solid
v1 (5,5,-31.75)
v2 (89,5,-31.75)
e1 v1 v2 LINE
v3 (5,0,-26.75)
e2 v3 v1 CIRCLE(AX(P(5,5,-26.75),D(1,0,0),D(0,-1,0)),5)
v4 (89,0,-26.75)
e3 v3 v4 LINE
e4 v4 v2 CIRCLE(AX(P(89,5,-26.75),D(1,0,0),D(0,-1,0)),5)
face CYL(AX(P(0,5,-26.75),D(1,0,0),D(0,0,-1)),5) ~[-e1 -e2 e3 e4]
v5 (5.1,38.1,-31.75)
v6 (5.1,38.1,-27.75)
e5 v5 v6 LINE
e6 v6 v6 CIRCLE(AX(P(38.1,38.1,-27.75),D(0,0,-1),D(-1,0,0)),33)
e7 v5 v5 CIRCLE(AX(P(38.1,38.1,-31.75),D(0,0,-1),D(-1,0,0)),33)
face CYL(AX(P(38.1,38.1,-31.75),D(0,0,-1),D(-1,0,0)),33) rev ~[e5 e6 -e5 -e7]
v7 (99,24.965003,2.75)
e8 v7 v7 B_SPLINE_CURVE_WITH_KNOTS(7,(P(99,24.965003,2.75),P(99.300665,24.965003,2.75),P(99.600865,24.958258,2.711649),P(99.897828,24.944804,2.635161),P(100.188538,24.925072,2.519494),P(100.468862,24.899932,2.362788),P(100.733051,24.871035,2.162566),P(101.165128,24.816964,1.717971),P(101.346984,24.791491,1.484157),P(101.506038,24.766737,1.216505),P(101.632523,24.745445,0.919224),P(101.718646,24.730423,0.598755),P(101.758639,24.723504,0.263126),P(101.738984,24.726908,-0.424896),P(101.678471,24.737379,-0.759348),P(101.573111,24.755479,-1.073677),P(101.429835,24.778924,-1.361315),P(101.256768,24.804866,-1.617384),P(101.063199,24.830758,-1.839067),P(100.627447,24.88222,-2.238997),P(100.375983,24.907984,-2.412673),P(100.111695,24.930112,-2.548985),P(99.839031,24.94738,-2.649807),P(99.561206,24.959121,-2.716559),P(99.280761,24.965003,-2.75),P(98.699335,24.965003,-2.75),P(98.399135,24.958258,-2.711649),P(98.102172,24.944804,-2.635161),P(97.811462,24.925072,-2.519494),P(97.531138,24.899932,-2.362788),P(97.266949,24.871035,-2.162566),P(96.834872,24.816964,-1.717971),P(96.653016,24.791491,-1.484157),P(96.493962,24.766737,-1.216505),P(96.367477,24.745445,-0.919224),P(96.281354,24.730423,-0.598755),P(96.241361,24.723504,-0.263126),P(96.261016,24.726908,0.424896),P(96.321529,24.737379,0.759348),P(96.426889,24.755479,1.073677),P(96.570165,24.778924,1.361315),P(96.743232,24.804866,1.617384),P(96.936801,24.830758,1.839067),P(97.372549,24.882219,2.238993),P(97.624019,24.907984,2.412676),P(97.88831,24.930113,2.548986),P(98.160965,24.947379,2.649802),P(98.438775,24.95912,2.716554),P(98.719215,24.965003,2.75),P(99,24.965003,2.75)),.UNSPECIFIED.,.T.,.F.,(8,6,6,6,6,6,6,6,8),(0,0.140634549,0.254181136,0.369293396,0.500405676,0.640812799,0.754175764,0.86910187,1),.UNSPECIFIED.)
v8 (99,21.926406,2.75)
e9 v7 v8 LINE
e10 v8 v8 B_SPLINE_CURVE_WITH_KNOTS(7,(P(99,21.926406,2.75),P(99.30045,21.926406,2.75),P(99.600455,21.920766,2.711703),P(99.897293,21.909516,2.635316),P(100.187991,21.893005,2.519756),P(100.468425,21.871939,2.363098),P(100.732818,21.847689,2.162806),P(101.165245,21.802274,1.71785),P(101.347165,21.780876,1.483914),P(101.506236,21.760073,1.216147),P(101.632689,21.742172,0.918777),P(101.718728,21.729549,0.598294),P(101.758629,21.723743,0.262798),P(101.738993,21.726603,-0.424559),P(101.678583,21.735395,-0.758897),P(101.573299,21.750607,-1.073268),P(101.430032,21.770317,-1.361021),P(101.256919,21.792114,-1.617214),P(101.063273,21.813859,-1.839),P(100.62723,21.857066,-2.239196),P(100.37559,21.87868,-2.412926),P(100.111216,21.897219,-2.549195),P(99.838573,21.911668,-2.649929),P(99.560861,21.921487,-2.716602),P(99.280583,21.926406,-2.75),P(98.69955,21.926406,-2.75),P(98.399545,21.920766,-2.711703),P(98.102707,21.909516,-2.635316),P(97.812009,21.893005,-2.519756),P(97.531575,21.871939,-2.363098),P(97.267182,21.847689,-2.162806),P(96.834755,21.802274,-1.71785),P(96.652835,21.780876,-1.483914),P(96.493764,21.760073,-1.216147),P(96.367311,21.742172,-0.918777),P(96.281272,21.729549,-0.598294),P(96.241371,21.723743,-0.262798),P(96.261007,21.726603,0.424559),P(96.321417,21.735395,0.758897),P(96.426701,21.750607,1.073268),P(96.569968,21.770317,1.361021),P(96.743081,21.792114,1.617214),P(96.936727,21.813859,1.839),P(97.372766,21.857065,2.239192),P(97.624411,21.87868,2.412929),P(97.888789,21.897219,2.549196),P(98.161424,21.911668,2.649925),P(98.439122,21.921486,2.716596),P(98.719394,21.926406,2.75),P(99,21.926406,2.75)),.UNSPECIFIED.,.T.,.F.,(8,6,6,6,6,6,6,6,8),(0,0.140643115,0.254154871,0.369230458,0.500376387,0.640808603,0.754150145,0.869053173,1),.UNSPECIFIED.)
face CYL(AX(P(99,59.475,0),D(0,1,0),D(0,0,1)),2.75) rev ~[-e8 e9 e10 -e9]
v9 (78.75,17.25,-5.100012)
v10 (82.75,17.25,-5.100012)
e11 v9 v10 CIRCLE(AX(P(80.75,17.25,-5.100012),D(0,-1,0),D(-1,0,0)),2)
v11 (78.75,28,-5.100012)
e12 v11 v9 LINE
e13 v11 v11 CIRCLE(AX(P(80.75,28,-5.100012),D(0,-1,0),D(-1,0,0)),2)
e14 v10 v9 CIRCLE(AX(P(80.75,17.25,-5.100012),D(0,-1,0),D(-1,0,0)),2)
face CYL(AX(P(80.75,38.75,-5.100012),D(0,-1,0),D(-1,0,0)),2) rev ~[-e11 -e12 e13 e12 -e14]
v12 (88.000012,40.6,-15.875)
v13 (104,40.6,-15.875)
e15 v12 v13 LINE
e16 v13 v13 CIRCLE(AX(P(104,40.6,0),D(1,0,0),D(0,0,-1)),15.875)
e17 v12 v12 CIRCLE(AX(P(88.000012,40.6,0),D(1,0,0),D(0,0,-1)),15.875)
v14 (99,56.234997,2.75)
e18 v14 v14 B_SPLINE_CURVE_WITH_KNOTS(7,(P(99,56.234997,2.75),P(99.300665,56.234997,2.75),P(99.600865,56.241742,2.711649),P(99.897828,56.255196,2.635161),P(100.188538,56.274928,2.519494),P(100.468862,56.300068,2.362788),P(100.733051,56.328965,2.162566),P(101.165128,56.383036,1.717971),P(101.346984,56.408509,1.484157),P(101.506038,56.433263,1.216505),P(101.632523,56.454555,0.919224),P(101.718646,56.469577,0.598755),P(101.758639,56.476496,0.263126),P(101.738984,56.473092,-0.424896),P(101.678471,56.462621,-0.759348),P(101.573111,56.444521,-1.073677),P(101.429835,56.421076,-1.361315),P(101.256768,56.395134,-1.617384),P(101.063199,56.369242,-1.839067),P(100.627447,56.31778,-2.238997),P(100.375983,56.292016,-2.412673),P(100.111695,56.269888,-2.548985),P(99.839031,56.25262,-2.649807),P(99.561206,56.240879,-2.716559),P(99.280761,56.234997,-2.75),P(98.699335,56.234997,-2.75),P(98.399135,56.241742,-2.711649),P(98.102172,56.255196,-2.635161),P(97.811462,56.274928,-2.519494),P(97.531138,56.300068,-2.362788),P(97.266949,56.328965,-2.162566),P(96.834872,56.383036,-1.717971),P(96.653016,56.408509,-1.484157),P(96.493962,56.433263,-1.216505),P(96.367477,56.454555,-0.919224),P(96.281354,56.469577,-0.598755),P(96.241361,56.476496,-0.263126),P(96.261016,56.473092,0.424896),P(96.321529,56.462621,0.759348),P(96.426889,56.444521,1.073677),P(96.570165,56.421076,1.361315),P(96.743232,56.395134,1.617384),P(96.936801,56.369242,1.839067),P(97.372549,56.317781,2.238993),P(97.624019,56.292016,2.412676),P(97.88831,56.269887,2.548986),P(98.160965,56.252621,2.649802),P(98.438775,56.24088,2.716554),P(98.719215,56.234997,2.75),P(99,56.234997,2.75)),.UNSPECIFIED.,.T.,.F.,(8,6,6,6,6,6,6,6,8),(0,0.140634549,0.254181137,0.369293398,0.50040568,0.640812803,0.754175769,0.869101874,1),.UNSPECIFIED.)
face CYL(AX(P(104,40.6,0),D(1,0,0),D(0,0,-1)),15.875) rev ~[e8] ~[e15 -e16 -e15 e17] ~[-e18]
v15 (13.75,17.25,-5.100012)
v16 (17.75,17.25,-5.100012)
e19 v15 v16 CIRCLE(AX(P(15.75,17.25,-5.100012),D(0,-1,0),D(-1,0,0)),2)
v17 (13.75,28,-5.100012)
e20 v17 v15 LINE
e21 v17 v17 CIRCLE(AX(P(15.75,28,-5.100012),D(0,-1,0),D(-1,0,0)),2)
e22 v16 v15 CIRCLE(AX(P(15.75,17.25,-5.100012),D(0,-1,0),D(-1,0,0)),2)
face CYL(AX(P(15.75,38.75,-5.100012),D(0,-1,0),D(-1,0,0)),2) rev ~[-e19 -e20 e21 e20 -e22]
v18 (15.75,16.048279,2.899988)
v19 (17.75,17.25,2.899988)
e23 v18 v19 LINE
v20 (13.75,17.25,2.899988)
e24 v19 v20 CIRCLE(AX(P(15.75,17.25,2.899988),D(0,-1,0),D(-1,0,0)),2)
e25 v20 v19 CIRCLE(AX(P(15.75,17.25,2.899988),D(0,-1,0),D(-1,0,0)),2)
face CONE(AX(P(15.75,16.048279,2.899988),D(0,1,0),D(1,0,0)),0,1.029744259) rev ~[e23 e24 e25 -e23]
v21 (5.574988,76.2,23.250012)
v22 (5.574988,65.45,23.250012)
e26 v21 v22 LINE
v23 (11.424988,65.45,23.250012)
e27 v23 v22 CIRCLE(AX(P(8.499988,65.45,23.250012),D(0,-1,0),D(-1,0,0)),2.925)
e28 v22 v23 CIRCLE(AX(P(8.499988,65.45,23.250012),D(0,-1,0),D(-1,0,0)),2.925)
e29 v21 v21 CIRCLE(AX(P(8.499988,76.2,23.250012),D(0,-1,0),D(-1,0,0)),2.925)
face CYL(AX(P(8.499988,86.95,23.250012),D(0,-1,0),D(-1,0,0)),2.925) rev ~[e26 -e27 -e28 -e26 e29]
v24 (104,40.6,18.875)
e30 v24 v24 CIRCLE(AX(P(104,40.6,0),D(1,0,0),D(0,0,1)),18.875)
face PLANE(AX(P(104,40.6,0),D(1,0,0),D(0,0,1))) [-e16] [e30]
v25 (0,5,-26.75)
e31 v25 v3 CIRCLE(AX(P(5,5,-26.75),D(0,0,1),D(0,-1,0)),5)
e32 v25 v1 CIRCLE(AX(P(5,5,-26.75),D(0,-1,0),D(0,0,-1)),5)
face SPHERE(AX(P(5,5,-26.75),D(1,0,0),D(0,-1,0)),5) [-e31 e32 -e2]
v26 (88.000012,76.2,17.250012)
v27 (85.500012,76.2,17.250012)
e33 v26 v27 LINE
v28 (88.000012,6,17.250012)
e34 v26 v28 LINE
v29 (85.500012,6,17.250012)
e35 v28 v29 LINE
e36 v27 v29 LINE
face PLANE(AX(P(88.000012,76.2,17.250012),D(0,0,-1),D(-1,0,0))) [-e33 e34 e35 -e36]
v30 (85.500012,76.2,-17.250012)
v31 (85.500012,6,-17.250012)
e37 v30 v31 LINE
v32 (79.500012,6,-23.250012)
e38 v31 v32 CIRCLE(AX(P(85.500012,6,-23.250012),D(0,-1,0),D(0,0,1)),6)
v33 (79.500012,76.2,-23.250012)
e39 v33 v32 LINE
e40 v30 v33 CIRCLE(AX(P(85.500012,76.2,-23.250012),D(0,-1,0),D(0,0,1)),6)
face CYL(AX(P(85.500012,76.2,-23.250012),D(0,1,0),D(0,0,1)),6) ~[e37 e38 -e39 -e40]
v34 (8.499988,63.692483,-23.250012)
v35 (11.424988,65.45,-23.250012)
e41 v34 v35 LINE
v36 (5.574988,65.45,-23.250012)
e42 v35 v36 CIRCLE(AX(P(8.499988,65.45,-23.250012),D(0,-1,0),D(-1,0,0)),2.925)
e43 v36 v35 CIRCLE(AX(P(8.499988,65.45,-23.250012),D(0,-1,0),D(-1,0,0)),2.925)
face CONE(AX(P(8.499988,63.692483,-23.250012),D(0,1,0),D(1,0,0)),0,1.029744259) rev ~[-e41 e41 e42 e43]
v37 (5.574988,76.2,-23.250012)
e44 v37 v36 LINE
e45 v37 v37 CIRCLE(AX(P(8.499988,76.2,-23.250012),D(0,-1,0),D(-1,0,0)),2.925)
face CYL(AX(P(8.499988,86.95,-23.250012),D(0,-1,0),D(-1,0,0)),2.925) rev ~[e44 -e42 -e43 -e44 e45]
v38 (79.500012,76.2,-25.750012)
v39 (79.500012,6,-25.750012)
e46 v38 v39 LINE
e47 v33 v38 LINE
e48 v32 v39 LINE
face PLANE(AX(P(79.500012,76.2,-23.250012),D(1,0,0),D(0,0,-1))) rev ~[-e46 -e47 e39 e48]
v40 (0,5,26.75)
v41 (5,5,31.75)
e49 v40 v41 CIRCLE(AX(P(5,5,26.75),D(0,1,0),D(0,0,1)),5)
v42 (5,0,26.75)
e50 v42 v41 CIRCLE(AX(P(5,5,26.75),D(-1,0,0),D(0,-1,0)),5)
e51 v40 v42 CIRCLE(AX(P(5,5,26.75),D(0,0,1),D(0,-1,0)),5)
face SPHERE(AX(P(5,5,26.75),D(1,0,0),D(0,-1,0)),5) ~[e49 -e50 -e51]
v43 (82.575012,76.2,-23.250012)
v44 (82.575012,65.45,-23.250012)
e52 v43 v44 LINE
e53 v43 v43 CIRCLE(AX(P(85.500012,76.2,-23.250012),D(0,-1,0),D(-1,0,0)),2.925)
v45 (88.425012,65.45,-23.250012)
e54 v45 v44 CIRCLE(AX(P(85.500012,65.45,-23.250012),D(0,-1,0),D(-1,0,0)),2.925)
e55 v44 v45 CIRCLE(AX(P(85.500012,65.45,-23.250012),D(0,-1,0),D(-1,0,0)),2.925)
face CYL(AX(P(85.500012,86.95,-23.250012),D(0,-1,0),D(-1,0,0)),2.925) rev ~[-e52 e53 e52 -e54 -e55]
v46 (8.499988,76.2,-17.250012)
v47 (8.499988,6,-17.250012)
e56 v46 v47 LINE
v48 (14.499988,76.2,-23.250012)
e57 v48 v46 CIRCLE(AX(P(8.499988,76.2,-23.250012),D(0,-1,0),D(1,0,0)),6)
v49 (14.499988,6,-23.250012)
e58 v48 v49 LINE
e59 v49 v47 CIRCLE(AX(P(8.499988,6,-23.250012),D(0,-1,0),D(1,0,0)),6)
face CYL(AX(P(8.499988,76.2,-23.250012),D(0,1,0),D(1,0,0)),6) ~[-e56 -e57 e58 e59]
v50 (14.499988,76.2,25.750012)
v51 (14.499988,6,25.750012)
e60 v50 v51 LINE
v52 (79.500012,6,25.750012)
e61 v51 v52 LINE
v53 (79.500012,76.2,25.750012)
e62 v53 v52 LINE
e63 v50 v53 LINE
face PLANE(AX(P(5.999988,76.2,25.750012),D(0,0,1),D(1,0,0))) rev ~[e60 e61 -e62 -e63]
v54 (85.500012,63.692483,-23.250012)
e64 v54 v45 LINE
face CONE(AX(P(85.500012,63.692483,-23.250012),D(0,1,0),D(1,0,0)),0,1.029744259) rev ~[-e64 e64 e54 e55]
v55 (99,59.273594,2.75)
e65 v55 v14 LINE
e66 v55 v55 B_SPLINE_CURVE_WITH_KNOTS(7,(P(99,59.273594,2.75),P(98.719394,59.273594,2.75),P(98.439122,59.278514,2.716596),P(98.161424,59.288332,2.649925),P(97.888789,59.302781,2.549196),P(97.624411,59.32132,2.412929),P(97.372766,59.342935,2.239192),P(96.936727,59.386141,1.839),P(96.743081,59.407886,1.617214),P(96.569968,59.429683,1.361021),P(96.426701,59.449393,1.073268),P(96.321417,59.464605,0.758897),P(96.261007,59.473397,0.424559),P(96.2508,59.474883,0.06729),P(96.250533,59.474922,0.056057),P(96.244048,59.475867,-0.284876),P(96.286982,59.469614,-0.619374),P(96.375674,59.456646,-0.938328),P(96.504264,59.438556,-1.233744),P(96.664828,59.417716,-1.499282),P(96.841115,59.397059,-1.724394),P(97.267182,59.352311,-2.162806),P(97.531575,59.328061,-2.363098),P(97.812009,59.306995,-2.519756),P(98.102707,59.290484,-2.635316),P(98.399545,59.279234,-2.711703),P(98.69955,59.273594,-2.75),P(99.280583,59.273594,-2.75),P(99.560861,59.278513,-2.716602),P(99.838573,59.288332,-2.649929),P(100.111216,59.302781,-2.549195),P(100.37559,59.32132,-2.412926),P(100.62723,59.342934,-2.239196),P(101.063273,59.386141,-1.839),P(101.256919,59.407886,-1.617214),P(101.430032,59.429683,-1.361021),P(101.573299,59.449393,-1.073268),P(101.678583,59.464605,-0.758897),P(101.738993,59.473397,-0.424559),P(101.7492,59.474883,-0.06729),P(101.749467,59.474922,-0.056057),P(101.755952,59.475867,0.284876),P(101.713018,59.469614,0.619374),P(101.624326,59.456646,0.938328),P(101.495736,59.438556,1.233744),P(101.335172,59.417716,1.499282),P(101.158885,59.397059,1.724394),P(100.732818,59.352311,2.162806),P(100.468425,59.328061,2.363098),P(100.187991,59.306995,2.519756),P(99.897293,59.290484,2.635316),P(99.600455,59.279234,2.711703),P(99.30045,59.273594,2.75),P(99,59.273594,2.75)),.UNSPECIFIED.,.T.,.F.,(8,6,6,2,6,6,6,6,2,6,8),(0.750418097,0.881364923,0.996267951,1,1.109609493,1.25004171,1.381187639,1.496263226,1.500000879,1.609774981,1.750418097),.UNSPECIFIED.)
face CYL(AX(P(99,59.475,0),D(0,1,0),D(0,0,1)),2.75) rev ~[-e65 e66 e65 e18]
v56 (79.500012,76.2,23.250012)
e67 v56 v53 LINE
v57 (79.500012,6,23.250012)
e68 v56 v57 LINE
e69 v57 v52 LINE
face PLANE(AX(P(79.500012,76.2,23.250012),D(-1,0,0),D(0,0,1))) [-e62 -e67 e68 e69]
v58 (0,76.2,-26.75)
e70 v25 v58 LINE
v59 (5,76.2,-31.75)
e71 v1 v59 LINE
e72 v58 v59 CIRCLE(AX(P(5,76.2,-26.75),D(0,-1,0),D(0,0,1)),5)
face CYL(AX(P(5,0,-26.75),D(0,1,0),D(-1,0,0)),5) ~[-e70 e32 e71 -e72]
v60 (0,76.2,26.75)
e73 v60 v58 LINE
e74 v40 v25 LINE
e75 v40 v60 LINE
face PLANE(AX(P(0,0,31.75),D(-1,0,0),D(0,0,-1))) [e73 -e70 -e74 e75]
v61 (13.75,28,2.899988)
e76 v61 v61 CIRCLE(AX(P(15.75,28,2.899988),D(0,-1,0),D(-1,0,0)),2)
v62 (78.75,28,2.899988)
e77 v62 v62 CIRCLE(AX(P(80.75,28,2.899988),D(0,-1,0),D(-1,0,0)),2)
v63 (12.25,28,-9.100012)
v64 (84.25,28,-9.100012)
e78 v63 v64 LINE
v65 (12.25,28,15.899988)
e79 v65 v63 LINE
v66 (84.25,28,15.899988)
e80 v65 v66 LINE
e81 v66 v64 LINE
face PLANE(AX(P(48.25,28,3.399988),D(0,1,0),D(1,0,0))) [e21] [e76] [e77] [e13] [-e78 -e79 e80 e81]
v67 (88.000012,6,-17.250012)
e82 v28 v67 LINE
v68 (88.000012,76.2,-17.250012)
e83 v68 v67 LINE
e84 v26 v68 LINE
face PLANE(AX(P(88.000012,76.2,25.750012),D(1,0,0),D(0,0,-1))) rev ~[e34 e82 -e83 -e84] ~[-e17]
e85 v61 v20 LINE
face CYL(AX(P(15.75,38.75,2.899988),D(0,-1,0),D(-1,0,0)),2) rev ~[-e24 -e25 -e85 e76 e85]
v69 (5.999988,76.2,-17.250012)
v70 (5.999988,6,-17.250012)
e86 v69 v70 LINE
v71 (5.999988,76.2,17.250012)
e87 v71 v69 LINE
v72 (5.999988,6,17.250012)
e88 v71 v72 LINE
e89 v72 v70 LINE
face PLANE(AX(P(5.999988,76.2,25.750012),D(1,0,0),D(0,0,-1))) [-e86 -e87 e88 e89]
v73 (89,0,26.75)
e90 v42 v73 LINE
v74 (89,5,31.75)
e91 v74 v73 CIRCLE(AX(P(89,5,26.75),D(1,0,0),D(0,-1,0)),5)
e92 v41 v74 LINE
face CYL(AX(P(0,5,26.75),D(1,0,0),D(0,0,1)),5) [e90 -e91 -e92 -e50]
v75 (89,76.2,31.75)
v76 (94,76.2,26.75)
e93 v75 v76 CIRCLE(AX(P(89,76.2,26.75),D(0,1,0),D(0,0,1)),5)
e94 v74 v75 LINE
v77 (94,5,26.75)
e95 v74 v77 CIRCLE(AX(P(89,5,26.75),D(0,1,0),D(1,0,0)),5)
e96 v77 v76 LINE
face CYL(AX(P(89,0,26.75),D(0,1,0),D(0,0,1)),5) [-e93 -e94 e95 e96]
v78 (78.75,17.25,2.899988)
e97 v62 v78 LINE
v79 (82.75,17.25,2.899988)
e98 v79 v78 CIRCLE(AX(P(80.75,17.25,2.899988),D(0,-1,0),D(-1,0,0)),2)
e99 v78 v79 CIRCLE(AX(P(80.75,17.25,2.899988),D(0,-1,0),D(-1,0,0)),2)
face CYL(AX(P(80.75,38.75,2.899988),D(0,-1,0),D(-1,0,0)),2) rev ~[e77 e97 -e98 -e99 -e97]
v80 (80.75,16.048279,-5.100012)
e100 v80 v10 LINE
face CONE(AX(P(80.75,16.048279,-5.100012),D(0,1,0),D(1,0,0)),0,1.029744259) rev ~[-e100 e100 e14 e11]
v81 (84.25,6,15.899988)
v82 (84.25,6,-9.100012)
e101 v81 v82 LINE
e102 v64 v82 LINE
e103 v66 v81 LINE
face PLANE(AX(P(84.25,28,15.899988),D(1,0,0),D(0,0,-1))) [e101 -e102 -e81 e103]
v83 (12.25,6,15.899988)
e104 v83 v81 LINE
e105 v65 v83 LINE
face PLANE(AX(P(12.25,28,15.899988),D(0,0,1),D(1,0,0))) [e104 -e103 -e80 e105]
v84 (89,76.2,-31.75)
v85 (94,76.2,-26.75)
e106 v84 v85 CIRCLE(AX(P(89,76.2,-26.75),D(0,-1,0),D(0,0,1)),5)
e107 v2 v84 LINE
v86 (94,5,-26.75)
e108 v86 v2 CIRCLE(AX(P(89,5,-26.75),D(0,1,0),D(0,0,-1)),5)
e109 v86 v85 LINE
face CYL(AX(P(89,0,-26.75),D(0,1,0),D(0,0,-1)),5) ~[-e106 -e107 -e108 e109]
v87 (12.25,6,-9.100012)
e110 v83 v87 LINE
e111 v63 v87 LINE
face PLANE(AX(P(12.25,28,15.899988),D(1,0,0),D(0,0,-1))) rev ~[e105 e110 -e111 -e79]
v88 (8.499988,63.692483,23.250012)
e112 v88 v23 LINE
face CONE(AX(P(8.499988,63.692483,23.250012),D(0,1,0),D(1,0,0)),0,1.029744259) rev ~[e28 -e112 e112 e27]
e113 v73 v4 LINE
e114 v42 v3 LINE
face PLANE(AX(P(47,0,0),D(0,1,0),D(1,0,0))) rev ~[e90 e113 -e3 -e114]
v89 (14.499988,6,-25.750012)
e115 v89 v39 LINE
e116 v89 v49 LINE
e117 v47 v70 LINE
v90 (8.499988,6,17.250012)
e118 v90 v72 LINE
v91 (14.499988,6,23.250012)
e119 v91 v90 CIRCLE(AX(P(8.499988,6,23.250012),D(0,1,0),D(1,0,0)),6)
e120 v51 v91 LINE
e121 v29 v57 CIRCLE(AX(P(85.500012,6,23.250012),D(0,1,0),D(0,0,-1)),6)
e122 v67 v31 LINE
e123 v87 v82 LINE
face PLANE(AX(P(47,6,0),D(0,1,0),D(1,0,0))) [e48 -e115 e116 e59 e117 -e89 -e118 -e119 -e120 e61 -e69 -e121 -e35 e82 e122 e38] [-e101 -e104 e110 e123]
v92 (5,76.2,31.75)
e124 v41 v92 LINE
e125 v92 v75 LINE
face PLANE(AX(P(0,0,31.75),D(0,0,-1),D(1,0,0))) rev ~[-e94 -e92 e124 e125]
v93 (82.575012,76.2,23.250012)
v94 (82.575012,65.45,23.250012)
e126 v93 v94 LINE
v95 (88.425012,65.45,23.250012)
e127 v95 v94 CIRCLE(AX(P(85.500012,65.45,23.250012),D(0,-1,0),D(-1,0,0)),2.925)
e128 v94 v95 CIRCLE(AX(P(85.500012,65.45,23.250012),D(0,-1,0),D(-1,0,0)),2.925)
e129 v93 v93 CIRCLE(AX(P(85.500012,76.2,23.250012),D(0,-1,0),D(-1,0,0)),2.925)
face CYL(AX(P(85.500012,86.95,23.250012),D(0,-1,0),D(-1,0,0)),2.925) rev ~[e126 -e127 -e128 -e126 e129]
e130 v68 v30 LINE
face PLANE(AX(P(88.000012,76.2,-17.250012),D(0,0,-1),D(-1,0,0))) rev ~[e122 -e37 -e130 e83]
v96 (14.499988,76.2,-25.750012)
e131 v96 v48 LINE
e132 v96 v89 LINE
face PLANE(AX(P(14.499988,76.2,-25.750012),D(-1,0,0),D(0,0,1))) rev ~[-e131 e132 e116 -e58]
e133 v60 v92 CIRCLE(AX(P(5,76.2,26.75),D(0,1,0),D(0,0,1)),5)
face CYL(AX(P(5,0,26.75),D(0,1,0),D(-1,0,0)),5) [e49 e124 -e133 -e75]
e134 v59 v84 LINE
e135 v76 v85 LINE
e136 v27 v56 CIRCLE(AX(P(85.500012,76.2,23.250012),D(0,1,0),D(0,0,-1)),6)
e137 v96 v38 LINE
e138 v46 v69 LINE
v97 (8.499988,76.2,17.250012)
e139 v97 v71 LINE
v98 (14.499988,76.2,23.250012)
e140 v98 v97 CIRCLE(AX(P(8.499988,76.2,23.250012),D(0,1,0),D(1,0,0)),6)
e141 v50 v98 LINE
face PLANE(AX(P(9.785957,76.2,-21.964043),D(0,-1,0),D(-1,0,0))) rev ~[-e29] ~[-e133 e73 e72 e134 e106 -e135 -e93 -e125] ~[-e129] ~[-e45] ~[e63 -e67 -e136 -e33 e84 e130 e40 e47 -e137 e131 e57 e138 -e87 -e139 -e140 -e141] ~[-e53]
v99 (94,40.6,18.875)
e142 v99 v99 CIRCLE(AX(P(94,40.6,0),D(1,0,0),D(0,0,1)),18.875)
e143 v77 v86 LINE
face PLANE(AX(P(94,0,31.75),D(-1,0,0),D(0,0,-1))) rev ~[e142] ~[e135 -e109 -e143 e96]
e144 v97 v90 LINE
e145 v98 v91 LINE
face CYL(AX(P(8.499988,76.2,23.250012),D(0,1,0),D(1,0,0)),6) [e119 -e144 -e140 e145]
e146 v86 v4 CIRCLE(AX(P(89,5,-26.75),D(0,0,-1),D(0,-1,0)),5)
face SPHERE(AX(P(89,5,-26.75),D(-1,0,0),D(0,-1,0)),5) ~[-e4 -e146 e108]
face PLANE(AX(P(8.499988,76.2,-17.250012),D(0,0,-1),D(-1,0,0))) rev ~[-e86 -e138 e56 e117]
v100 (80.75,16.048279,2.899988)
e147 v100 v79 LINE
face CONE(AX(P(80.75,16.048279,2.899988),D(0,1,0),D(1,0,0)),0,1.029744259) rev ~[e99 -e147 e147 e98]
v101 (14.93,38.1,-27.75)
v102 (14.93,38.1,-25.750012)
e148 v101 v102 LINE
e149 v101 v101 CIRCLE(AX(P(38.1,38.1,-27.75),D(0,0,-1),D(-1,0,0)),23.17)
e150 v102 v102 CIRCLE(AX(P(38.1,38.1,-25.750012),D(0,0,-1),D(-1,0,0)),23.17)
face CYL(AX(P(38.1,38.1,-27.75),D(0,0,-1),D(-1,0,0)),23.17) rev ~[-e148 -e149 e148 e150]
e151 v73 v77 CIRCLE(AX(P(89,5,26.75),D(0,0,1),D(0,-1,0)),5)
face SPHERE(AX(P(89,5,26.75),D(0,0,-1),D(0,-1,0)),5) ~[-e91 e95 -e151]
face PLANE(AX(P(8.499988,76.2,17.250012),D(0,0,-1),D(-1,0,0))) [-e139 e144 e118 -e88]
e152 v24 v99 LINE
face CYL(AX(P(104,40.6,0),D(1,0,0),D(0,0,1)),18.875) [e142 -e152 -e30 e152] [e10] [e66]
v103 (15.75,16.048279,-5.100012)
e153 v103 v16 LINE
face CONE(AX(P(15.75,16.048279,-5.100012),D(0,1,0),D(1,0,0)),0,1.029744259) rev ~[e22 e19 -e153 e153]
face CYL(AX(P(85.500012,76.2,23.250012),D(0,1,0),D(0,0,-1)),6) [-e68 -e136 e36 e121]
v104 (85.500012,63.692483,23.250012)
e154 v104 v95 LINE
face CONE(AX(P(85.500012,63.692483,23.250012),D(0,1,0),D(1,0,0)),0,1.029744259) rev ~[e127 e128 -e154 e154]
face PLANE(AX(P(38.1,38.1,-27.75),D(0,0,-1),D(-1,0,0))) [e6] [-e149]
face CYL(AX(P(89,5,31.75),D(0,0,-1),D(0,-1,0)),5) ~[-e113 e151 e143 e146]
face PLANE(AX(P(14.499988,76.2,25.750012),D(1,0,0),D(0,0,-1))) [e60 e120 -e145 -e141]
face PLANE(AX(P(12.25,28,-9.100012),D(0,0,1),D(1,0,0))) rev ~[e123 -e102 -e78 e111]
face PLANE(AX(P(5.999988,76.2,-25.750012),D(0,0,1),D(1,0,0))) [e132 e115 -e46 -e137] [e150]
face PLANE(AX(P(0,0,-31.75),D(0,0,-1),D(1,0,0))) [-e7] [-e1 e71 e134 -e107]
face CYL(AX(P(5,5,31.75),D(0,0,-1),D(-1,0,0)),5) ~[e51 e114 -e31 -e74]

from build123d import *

# Parameters (mm, degrees)
SKETCH1_W                 = 94
SKETCH1_H                 = 63.5
BOSS_EXTRUDE1_DEPTH       = 76.2
SKETCH2_W                 = 82.000024
SKETCH2_H                 = 51.500024
CUT_EXTRUDE1_DEPTH        = 70.2
SKETCH7_R                 = 33
CUT_EXTRUDE4_DEPTH        = 4
SKETCH8_R                 = 12.55
CUT_EXTRUDE5_DEPTH        = 2
SKETCH15_W                = 72
SKETCH15_H                = 25
BOSS_EXTRUDE3_DEPTH       = 22
FILLET1_R                 = 5
BOSS_EXTRUDE4_DEPTH       = 70.2
F_1_0MM_DOWEL_HOLE2_D     = 5.85
F_1_0MM_DOWEL_HOLE2_DEPTH = 10.75
F_1_0MM_DOWEL_HOLE2_TIP   = 1.757517311
SKETCH49_R                = 15.875
CUT_EXTRUDE7_DEPTH        = 5.999988
BOSS_EXTRUDE5_START       = 10
SKETCH51_R                = 18.875
SKETCH51_R_2              = 15.875
BOSS_EXTRUDE5_DEPTH       = 10
SKETCH52_R                = 2.75
CUT_EXTRUDE8_DEPTH        = 124.940865436
SKETCH53_R                = 23.17
CUT_EXTRUDE9_DEPTH        = 1.999988
BRACKET_HOLES_D           = 4
BRACKET_HOLES_DEPTH       = 10.75
BRACKET_HOLES_TIP         = 1.201721238


with BuildPart() as part:
    # Sketch1 → Boss-Extrude1 (new body)
    with BuildSketch(Plane(origin=(0, 0, 0), x_dir=(1, 0, 0), z_dir=(0, 1, 0))):
        with Locations((47, 0)):
            Rectangle(SKETCH1_W, SKETCH1_H)
    extrude(amount=BOSS_EXTRUDE1_DEPTH)

    # Sketch2 → Cut-Extrude1 (cut)
    with BuildSketch(Plane(origin=(0, 76.2, 0), x_dir=(1, 0, 0), z_dir=(0, 1, 0))):
        with Locations((47, 0)):
            Rectangle(SKETCH2_W, SKETCH2_H)
    extrude(amount=-CUT_EXTRUDE1_DEPTH, mode=Mode.SUBTRACT)

    # Sketch7 → Cut-Extrude4 (cut)
    with BuildSketch(Plane(origin=(0, 0, -31.75), x_dir=(-1, 0, 0), z_dir=(0, 0, -1))):
        with Locations((-38.1, 38.1)):
            Circle(SKETCH7_R)
    extrude(amount=-CUT_EXTRUDE4_DEPTH, mode=Mode.SUBTRACT)

    # Sketch8 → Cut-Extrude5 (cut)
    with BuildSketch(Plane.XY.offset(-25.750012)):
        with Locations((38.1, 38.1)):
            Circle(SKETCH8_R)
    extrude(amount=-CUT_EXTRUDE5_DEPTH, mode=Mode.SUBTRACT)

    # Sketch15 → Boss-Extrude3 (add)
    with BuildSketch(Plane(origin=(0, 28, 0), x_dir=(1, 0, 0), z_dir=(0, 1, 0))):
        with Locations((48.25, -3.399988)):
            Rectangle(SKETCH15_W, SKETCH15_H)
    extrude(amount=-BOSS_EXTRUDE3_DEPTH)

    # Fillet1
    fillet1_edges = [part.edges().sort_by_distance(p)[0] for p in [
        (47, 0, -31.75),
        (94, 0, 0),
        (47, 0, 31.75),
        (0, 0, 0),
        (0, 38.1, -31.75),
        (94, 38.1, -31.75),
        (94, 38.1, 31.75),
        (0, 38.1, 31.75),
    ]]
    fillet(fillet1_edges, radius=FILLET1_R)

    # Sketch44 → Boss-Extrude4 (add)
    with BuildSketch(Plane(origin=(0, 76.2, 0), x_dir=(1, 0, 0), z_dir=(0, 1, 0))):
        with BuildLine():
            Line((8.499988, 17.250012), (5.999988, 17.250012))
            Line((5.999988, 17.250012), (5.999988, 25.750012))
            Line((5.999988, 25.750012), (14.499988, 25.750012))
            Line((14.499988, 25.750012), (14.499988, 23.250012))
            ThreePointArc((14.499988, 23.250012), (12.742628687, 19.007371313), (8.499988, 17.250012))
        make_face()
        with BuildLine():
            Line((8.499988, -17.250012), (5.999988, -17.250012))
            Line((5.999988, -17.250012), (5.999988, -25.750012))
            Line((5.999988, -25.750012), (14.499988, -25.750012))
            Line((14.499988, -25.750012), (14.499988, -23.250012))
            ThreePointArc((14.499988, -23.250012), (12.742628687, -19.007371313), (8.499988, -17.250012))
        make_face()
        with BuildLine():
            Line((79.500012, -23.250012), (79.500012, -25.750012))
            Line((79.500012, -25.750012), (88.000012, -25.750012))
            Line((88.000012, -25.750012), (88.000012, -17.250012))
            Line((88.000012, -17.250012), (85.500012, -17.250012))
            ThreePointArc((85.500012, -17.250012), (81.257371313, -19.007371313), (79.500012, -23.250012))
        make_face()
        with BuildLine():
            Line((79.500012, 23.250012), (79.500012, 25.750012))
            Line((79.500012, 25.750012), (88.000012, 25.750012))
            Line((88.000012, 25.750012), (88.000012, 17.250012))
            Line((88.000012, 17.250012), (85.500012, 17.250012))
            ThreePointArc((85.500012, 17.250012), (81.257371313, 19.007371313), (79.500012, 23.250012))
        make_face()
    extrude(amount=-BOSS_EXTRUDE4_DEPTH)

    # Ø1.0mm Dowel Hole2
    with Locations(Plane(origin=(0, 76.2, 0), x_dir=(1, 0, 0), z_dir=(0, 1, 0))):
        with Locations((8.499988, 23.250012), (8.499988, -23.250012), (85.500012, -23.250012), (85.500012, 23.250012)):
            Hole(F_1_0MM_DOWEL_HOLE2_D / 2, depth=F_1_0MM_DOWEL_HOLE2_DEPTH)
            with Locations((0, 0, -(F_1_0MM_DOWEL_HOLE2_DEPTH + F_1_0MM_DOWEL_HOLE2_TIP / 2))):  # 118° drill point
                Cone(0, F_1_0MM_DOWEL_HOLE2_D / 2, F_1_0MM_DOWEL_HOLE2_TIP, mode=Mode.SUBTRACT)

    # Sketch49 → Cut-Extrude7 (cut)
    with BuildSketch(Plane(origin=(94, 0, 0), x_dir=(0, 0, -1), z_dir=(1, 0, 0))):
        with Locations((0, 40.6)):
            Circle(SKETCH49_R)
    extrude(amount=-CUT_EXTRUDE7_DEPTH, mode=Mode.SUBTRACT)

    # Sketch51 → Boss-Extrude5 (add)
    with BuildSketch(Plane(origin=(94, 0, 0), x_dir=(0, 0, -1), z_dir=(1, 0, 0)).offset(BOSS_EXTRUDE5_START)):
        with Locations(Location((0, 40.6, 0), (0, 0, 180))):
            Circle(SKETCH51_R)
        with Locations((0, 40.6)):
            Circle(SKETCH51_R_2, mode=Mode.SUBTRACT)
    extrude(amount=-BOSS_EXTRUDE5_DEPTH)

    # Sketch52 → Cut-Extrude8 (cut, through all)
    with BuildSketch(Plane(origin=(0, 59.475, 0), x_dir=(-1, 0, 0), z_dir=(0, 1, 0))):
        with Locations(Location((-99, 0, 0), (0, 0, 90))):
            Circle(SKETCH52_R)
    extrude(amount=-CUT_EXTRUDE8_DEPTH, mode=Mode.SUBTRACT)

    # Sketch53 → Cut-Extrude9 (cut)
    with BuildSketch(Plane(origin=(0, 0, -27.75), x_dir=(-1, 0, 0), z_dir=(0, 0, -1))):
        with Locations((-38.1, 38.1)):
            Circle(SKETCH53_R)
    extrude(amount=-CUT_EXTRUDE9_DEPTH, mode=Mode.SUBTRACT)

    # Bracket Holes
    with Locations(Plane(origin=(0, 28, 0), x_dir=(1, 0, 0), z_dir=(0, 1, 0))):
        with Locations((15.75, 5.100012), (15.75, -2.899988), (80.75, -2.899988), (80.75, 5.100012)):
            Hole(BRACKET_HOLES_D / 2, depth=BRACKET_HOLES_DEPTH)
            with Locations((0, 0, -(BRACKET_HOLES_DEPTH + BRACKET_HOLES_TIP / 2))):  # 118° drill point
                Cone(0, BRACKET_HOLES_D / 2, BRACKET_HOLES_TIP, mode=Mode.SUBTRACT)


solid = part.part
